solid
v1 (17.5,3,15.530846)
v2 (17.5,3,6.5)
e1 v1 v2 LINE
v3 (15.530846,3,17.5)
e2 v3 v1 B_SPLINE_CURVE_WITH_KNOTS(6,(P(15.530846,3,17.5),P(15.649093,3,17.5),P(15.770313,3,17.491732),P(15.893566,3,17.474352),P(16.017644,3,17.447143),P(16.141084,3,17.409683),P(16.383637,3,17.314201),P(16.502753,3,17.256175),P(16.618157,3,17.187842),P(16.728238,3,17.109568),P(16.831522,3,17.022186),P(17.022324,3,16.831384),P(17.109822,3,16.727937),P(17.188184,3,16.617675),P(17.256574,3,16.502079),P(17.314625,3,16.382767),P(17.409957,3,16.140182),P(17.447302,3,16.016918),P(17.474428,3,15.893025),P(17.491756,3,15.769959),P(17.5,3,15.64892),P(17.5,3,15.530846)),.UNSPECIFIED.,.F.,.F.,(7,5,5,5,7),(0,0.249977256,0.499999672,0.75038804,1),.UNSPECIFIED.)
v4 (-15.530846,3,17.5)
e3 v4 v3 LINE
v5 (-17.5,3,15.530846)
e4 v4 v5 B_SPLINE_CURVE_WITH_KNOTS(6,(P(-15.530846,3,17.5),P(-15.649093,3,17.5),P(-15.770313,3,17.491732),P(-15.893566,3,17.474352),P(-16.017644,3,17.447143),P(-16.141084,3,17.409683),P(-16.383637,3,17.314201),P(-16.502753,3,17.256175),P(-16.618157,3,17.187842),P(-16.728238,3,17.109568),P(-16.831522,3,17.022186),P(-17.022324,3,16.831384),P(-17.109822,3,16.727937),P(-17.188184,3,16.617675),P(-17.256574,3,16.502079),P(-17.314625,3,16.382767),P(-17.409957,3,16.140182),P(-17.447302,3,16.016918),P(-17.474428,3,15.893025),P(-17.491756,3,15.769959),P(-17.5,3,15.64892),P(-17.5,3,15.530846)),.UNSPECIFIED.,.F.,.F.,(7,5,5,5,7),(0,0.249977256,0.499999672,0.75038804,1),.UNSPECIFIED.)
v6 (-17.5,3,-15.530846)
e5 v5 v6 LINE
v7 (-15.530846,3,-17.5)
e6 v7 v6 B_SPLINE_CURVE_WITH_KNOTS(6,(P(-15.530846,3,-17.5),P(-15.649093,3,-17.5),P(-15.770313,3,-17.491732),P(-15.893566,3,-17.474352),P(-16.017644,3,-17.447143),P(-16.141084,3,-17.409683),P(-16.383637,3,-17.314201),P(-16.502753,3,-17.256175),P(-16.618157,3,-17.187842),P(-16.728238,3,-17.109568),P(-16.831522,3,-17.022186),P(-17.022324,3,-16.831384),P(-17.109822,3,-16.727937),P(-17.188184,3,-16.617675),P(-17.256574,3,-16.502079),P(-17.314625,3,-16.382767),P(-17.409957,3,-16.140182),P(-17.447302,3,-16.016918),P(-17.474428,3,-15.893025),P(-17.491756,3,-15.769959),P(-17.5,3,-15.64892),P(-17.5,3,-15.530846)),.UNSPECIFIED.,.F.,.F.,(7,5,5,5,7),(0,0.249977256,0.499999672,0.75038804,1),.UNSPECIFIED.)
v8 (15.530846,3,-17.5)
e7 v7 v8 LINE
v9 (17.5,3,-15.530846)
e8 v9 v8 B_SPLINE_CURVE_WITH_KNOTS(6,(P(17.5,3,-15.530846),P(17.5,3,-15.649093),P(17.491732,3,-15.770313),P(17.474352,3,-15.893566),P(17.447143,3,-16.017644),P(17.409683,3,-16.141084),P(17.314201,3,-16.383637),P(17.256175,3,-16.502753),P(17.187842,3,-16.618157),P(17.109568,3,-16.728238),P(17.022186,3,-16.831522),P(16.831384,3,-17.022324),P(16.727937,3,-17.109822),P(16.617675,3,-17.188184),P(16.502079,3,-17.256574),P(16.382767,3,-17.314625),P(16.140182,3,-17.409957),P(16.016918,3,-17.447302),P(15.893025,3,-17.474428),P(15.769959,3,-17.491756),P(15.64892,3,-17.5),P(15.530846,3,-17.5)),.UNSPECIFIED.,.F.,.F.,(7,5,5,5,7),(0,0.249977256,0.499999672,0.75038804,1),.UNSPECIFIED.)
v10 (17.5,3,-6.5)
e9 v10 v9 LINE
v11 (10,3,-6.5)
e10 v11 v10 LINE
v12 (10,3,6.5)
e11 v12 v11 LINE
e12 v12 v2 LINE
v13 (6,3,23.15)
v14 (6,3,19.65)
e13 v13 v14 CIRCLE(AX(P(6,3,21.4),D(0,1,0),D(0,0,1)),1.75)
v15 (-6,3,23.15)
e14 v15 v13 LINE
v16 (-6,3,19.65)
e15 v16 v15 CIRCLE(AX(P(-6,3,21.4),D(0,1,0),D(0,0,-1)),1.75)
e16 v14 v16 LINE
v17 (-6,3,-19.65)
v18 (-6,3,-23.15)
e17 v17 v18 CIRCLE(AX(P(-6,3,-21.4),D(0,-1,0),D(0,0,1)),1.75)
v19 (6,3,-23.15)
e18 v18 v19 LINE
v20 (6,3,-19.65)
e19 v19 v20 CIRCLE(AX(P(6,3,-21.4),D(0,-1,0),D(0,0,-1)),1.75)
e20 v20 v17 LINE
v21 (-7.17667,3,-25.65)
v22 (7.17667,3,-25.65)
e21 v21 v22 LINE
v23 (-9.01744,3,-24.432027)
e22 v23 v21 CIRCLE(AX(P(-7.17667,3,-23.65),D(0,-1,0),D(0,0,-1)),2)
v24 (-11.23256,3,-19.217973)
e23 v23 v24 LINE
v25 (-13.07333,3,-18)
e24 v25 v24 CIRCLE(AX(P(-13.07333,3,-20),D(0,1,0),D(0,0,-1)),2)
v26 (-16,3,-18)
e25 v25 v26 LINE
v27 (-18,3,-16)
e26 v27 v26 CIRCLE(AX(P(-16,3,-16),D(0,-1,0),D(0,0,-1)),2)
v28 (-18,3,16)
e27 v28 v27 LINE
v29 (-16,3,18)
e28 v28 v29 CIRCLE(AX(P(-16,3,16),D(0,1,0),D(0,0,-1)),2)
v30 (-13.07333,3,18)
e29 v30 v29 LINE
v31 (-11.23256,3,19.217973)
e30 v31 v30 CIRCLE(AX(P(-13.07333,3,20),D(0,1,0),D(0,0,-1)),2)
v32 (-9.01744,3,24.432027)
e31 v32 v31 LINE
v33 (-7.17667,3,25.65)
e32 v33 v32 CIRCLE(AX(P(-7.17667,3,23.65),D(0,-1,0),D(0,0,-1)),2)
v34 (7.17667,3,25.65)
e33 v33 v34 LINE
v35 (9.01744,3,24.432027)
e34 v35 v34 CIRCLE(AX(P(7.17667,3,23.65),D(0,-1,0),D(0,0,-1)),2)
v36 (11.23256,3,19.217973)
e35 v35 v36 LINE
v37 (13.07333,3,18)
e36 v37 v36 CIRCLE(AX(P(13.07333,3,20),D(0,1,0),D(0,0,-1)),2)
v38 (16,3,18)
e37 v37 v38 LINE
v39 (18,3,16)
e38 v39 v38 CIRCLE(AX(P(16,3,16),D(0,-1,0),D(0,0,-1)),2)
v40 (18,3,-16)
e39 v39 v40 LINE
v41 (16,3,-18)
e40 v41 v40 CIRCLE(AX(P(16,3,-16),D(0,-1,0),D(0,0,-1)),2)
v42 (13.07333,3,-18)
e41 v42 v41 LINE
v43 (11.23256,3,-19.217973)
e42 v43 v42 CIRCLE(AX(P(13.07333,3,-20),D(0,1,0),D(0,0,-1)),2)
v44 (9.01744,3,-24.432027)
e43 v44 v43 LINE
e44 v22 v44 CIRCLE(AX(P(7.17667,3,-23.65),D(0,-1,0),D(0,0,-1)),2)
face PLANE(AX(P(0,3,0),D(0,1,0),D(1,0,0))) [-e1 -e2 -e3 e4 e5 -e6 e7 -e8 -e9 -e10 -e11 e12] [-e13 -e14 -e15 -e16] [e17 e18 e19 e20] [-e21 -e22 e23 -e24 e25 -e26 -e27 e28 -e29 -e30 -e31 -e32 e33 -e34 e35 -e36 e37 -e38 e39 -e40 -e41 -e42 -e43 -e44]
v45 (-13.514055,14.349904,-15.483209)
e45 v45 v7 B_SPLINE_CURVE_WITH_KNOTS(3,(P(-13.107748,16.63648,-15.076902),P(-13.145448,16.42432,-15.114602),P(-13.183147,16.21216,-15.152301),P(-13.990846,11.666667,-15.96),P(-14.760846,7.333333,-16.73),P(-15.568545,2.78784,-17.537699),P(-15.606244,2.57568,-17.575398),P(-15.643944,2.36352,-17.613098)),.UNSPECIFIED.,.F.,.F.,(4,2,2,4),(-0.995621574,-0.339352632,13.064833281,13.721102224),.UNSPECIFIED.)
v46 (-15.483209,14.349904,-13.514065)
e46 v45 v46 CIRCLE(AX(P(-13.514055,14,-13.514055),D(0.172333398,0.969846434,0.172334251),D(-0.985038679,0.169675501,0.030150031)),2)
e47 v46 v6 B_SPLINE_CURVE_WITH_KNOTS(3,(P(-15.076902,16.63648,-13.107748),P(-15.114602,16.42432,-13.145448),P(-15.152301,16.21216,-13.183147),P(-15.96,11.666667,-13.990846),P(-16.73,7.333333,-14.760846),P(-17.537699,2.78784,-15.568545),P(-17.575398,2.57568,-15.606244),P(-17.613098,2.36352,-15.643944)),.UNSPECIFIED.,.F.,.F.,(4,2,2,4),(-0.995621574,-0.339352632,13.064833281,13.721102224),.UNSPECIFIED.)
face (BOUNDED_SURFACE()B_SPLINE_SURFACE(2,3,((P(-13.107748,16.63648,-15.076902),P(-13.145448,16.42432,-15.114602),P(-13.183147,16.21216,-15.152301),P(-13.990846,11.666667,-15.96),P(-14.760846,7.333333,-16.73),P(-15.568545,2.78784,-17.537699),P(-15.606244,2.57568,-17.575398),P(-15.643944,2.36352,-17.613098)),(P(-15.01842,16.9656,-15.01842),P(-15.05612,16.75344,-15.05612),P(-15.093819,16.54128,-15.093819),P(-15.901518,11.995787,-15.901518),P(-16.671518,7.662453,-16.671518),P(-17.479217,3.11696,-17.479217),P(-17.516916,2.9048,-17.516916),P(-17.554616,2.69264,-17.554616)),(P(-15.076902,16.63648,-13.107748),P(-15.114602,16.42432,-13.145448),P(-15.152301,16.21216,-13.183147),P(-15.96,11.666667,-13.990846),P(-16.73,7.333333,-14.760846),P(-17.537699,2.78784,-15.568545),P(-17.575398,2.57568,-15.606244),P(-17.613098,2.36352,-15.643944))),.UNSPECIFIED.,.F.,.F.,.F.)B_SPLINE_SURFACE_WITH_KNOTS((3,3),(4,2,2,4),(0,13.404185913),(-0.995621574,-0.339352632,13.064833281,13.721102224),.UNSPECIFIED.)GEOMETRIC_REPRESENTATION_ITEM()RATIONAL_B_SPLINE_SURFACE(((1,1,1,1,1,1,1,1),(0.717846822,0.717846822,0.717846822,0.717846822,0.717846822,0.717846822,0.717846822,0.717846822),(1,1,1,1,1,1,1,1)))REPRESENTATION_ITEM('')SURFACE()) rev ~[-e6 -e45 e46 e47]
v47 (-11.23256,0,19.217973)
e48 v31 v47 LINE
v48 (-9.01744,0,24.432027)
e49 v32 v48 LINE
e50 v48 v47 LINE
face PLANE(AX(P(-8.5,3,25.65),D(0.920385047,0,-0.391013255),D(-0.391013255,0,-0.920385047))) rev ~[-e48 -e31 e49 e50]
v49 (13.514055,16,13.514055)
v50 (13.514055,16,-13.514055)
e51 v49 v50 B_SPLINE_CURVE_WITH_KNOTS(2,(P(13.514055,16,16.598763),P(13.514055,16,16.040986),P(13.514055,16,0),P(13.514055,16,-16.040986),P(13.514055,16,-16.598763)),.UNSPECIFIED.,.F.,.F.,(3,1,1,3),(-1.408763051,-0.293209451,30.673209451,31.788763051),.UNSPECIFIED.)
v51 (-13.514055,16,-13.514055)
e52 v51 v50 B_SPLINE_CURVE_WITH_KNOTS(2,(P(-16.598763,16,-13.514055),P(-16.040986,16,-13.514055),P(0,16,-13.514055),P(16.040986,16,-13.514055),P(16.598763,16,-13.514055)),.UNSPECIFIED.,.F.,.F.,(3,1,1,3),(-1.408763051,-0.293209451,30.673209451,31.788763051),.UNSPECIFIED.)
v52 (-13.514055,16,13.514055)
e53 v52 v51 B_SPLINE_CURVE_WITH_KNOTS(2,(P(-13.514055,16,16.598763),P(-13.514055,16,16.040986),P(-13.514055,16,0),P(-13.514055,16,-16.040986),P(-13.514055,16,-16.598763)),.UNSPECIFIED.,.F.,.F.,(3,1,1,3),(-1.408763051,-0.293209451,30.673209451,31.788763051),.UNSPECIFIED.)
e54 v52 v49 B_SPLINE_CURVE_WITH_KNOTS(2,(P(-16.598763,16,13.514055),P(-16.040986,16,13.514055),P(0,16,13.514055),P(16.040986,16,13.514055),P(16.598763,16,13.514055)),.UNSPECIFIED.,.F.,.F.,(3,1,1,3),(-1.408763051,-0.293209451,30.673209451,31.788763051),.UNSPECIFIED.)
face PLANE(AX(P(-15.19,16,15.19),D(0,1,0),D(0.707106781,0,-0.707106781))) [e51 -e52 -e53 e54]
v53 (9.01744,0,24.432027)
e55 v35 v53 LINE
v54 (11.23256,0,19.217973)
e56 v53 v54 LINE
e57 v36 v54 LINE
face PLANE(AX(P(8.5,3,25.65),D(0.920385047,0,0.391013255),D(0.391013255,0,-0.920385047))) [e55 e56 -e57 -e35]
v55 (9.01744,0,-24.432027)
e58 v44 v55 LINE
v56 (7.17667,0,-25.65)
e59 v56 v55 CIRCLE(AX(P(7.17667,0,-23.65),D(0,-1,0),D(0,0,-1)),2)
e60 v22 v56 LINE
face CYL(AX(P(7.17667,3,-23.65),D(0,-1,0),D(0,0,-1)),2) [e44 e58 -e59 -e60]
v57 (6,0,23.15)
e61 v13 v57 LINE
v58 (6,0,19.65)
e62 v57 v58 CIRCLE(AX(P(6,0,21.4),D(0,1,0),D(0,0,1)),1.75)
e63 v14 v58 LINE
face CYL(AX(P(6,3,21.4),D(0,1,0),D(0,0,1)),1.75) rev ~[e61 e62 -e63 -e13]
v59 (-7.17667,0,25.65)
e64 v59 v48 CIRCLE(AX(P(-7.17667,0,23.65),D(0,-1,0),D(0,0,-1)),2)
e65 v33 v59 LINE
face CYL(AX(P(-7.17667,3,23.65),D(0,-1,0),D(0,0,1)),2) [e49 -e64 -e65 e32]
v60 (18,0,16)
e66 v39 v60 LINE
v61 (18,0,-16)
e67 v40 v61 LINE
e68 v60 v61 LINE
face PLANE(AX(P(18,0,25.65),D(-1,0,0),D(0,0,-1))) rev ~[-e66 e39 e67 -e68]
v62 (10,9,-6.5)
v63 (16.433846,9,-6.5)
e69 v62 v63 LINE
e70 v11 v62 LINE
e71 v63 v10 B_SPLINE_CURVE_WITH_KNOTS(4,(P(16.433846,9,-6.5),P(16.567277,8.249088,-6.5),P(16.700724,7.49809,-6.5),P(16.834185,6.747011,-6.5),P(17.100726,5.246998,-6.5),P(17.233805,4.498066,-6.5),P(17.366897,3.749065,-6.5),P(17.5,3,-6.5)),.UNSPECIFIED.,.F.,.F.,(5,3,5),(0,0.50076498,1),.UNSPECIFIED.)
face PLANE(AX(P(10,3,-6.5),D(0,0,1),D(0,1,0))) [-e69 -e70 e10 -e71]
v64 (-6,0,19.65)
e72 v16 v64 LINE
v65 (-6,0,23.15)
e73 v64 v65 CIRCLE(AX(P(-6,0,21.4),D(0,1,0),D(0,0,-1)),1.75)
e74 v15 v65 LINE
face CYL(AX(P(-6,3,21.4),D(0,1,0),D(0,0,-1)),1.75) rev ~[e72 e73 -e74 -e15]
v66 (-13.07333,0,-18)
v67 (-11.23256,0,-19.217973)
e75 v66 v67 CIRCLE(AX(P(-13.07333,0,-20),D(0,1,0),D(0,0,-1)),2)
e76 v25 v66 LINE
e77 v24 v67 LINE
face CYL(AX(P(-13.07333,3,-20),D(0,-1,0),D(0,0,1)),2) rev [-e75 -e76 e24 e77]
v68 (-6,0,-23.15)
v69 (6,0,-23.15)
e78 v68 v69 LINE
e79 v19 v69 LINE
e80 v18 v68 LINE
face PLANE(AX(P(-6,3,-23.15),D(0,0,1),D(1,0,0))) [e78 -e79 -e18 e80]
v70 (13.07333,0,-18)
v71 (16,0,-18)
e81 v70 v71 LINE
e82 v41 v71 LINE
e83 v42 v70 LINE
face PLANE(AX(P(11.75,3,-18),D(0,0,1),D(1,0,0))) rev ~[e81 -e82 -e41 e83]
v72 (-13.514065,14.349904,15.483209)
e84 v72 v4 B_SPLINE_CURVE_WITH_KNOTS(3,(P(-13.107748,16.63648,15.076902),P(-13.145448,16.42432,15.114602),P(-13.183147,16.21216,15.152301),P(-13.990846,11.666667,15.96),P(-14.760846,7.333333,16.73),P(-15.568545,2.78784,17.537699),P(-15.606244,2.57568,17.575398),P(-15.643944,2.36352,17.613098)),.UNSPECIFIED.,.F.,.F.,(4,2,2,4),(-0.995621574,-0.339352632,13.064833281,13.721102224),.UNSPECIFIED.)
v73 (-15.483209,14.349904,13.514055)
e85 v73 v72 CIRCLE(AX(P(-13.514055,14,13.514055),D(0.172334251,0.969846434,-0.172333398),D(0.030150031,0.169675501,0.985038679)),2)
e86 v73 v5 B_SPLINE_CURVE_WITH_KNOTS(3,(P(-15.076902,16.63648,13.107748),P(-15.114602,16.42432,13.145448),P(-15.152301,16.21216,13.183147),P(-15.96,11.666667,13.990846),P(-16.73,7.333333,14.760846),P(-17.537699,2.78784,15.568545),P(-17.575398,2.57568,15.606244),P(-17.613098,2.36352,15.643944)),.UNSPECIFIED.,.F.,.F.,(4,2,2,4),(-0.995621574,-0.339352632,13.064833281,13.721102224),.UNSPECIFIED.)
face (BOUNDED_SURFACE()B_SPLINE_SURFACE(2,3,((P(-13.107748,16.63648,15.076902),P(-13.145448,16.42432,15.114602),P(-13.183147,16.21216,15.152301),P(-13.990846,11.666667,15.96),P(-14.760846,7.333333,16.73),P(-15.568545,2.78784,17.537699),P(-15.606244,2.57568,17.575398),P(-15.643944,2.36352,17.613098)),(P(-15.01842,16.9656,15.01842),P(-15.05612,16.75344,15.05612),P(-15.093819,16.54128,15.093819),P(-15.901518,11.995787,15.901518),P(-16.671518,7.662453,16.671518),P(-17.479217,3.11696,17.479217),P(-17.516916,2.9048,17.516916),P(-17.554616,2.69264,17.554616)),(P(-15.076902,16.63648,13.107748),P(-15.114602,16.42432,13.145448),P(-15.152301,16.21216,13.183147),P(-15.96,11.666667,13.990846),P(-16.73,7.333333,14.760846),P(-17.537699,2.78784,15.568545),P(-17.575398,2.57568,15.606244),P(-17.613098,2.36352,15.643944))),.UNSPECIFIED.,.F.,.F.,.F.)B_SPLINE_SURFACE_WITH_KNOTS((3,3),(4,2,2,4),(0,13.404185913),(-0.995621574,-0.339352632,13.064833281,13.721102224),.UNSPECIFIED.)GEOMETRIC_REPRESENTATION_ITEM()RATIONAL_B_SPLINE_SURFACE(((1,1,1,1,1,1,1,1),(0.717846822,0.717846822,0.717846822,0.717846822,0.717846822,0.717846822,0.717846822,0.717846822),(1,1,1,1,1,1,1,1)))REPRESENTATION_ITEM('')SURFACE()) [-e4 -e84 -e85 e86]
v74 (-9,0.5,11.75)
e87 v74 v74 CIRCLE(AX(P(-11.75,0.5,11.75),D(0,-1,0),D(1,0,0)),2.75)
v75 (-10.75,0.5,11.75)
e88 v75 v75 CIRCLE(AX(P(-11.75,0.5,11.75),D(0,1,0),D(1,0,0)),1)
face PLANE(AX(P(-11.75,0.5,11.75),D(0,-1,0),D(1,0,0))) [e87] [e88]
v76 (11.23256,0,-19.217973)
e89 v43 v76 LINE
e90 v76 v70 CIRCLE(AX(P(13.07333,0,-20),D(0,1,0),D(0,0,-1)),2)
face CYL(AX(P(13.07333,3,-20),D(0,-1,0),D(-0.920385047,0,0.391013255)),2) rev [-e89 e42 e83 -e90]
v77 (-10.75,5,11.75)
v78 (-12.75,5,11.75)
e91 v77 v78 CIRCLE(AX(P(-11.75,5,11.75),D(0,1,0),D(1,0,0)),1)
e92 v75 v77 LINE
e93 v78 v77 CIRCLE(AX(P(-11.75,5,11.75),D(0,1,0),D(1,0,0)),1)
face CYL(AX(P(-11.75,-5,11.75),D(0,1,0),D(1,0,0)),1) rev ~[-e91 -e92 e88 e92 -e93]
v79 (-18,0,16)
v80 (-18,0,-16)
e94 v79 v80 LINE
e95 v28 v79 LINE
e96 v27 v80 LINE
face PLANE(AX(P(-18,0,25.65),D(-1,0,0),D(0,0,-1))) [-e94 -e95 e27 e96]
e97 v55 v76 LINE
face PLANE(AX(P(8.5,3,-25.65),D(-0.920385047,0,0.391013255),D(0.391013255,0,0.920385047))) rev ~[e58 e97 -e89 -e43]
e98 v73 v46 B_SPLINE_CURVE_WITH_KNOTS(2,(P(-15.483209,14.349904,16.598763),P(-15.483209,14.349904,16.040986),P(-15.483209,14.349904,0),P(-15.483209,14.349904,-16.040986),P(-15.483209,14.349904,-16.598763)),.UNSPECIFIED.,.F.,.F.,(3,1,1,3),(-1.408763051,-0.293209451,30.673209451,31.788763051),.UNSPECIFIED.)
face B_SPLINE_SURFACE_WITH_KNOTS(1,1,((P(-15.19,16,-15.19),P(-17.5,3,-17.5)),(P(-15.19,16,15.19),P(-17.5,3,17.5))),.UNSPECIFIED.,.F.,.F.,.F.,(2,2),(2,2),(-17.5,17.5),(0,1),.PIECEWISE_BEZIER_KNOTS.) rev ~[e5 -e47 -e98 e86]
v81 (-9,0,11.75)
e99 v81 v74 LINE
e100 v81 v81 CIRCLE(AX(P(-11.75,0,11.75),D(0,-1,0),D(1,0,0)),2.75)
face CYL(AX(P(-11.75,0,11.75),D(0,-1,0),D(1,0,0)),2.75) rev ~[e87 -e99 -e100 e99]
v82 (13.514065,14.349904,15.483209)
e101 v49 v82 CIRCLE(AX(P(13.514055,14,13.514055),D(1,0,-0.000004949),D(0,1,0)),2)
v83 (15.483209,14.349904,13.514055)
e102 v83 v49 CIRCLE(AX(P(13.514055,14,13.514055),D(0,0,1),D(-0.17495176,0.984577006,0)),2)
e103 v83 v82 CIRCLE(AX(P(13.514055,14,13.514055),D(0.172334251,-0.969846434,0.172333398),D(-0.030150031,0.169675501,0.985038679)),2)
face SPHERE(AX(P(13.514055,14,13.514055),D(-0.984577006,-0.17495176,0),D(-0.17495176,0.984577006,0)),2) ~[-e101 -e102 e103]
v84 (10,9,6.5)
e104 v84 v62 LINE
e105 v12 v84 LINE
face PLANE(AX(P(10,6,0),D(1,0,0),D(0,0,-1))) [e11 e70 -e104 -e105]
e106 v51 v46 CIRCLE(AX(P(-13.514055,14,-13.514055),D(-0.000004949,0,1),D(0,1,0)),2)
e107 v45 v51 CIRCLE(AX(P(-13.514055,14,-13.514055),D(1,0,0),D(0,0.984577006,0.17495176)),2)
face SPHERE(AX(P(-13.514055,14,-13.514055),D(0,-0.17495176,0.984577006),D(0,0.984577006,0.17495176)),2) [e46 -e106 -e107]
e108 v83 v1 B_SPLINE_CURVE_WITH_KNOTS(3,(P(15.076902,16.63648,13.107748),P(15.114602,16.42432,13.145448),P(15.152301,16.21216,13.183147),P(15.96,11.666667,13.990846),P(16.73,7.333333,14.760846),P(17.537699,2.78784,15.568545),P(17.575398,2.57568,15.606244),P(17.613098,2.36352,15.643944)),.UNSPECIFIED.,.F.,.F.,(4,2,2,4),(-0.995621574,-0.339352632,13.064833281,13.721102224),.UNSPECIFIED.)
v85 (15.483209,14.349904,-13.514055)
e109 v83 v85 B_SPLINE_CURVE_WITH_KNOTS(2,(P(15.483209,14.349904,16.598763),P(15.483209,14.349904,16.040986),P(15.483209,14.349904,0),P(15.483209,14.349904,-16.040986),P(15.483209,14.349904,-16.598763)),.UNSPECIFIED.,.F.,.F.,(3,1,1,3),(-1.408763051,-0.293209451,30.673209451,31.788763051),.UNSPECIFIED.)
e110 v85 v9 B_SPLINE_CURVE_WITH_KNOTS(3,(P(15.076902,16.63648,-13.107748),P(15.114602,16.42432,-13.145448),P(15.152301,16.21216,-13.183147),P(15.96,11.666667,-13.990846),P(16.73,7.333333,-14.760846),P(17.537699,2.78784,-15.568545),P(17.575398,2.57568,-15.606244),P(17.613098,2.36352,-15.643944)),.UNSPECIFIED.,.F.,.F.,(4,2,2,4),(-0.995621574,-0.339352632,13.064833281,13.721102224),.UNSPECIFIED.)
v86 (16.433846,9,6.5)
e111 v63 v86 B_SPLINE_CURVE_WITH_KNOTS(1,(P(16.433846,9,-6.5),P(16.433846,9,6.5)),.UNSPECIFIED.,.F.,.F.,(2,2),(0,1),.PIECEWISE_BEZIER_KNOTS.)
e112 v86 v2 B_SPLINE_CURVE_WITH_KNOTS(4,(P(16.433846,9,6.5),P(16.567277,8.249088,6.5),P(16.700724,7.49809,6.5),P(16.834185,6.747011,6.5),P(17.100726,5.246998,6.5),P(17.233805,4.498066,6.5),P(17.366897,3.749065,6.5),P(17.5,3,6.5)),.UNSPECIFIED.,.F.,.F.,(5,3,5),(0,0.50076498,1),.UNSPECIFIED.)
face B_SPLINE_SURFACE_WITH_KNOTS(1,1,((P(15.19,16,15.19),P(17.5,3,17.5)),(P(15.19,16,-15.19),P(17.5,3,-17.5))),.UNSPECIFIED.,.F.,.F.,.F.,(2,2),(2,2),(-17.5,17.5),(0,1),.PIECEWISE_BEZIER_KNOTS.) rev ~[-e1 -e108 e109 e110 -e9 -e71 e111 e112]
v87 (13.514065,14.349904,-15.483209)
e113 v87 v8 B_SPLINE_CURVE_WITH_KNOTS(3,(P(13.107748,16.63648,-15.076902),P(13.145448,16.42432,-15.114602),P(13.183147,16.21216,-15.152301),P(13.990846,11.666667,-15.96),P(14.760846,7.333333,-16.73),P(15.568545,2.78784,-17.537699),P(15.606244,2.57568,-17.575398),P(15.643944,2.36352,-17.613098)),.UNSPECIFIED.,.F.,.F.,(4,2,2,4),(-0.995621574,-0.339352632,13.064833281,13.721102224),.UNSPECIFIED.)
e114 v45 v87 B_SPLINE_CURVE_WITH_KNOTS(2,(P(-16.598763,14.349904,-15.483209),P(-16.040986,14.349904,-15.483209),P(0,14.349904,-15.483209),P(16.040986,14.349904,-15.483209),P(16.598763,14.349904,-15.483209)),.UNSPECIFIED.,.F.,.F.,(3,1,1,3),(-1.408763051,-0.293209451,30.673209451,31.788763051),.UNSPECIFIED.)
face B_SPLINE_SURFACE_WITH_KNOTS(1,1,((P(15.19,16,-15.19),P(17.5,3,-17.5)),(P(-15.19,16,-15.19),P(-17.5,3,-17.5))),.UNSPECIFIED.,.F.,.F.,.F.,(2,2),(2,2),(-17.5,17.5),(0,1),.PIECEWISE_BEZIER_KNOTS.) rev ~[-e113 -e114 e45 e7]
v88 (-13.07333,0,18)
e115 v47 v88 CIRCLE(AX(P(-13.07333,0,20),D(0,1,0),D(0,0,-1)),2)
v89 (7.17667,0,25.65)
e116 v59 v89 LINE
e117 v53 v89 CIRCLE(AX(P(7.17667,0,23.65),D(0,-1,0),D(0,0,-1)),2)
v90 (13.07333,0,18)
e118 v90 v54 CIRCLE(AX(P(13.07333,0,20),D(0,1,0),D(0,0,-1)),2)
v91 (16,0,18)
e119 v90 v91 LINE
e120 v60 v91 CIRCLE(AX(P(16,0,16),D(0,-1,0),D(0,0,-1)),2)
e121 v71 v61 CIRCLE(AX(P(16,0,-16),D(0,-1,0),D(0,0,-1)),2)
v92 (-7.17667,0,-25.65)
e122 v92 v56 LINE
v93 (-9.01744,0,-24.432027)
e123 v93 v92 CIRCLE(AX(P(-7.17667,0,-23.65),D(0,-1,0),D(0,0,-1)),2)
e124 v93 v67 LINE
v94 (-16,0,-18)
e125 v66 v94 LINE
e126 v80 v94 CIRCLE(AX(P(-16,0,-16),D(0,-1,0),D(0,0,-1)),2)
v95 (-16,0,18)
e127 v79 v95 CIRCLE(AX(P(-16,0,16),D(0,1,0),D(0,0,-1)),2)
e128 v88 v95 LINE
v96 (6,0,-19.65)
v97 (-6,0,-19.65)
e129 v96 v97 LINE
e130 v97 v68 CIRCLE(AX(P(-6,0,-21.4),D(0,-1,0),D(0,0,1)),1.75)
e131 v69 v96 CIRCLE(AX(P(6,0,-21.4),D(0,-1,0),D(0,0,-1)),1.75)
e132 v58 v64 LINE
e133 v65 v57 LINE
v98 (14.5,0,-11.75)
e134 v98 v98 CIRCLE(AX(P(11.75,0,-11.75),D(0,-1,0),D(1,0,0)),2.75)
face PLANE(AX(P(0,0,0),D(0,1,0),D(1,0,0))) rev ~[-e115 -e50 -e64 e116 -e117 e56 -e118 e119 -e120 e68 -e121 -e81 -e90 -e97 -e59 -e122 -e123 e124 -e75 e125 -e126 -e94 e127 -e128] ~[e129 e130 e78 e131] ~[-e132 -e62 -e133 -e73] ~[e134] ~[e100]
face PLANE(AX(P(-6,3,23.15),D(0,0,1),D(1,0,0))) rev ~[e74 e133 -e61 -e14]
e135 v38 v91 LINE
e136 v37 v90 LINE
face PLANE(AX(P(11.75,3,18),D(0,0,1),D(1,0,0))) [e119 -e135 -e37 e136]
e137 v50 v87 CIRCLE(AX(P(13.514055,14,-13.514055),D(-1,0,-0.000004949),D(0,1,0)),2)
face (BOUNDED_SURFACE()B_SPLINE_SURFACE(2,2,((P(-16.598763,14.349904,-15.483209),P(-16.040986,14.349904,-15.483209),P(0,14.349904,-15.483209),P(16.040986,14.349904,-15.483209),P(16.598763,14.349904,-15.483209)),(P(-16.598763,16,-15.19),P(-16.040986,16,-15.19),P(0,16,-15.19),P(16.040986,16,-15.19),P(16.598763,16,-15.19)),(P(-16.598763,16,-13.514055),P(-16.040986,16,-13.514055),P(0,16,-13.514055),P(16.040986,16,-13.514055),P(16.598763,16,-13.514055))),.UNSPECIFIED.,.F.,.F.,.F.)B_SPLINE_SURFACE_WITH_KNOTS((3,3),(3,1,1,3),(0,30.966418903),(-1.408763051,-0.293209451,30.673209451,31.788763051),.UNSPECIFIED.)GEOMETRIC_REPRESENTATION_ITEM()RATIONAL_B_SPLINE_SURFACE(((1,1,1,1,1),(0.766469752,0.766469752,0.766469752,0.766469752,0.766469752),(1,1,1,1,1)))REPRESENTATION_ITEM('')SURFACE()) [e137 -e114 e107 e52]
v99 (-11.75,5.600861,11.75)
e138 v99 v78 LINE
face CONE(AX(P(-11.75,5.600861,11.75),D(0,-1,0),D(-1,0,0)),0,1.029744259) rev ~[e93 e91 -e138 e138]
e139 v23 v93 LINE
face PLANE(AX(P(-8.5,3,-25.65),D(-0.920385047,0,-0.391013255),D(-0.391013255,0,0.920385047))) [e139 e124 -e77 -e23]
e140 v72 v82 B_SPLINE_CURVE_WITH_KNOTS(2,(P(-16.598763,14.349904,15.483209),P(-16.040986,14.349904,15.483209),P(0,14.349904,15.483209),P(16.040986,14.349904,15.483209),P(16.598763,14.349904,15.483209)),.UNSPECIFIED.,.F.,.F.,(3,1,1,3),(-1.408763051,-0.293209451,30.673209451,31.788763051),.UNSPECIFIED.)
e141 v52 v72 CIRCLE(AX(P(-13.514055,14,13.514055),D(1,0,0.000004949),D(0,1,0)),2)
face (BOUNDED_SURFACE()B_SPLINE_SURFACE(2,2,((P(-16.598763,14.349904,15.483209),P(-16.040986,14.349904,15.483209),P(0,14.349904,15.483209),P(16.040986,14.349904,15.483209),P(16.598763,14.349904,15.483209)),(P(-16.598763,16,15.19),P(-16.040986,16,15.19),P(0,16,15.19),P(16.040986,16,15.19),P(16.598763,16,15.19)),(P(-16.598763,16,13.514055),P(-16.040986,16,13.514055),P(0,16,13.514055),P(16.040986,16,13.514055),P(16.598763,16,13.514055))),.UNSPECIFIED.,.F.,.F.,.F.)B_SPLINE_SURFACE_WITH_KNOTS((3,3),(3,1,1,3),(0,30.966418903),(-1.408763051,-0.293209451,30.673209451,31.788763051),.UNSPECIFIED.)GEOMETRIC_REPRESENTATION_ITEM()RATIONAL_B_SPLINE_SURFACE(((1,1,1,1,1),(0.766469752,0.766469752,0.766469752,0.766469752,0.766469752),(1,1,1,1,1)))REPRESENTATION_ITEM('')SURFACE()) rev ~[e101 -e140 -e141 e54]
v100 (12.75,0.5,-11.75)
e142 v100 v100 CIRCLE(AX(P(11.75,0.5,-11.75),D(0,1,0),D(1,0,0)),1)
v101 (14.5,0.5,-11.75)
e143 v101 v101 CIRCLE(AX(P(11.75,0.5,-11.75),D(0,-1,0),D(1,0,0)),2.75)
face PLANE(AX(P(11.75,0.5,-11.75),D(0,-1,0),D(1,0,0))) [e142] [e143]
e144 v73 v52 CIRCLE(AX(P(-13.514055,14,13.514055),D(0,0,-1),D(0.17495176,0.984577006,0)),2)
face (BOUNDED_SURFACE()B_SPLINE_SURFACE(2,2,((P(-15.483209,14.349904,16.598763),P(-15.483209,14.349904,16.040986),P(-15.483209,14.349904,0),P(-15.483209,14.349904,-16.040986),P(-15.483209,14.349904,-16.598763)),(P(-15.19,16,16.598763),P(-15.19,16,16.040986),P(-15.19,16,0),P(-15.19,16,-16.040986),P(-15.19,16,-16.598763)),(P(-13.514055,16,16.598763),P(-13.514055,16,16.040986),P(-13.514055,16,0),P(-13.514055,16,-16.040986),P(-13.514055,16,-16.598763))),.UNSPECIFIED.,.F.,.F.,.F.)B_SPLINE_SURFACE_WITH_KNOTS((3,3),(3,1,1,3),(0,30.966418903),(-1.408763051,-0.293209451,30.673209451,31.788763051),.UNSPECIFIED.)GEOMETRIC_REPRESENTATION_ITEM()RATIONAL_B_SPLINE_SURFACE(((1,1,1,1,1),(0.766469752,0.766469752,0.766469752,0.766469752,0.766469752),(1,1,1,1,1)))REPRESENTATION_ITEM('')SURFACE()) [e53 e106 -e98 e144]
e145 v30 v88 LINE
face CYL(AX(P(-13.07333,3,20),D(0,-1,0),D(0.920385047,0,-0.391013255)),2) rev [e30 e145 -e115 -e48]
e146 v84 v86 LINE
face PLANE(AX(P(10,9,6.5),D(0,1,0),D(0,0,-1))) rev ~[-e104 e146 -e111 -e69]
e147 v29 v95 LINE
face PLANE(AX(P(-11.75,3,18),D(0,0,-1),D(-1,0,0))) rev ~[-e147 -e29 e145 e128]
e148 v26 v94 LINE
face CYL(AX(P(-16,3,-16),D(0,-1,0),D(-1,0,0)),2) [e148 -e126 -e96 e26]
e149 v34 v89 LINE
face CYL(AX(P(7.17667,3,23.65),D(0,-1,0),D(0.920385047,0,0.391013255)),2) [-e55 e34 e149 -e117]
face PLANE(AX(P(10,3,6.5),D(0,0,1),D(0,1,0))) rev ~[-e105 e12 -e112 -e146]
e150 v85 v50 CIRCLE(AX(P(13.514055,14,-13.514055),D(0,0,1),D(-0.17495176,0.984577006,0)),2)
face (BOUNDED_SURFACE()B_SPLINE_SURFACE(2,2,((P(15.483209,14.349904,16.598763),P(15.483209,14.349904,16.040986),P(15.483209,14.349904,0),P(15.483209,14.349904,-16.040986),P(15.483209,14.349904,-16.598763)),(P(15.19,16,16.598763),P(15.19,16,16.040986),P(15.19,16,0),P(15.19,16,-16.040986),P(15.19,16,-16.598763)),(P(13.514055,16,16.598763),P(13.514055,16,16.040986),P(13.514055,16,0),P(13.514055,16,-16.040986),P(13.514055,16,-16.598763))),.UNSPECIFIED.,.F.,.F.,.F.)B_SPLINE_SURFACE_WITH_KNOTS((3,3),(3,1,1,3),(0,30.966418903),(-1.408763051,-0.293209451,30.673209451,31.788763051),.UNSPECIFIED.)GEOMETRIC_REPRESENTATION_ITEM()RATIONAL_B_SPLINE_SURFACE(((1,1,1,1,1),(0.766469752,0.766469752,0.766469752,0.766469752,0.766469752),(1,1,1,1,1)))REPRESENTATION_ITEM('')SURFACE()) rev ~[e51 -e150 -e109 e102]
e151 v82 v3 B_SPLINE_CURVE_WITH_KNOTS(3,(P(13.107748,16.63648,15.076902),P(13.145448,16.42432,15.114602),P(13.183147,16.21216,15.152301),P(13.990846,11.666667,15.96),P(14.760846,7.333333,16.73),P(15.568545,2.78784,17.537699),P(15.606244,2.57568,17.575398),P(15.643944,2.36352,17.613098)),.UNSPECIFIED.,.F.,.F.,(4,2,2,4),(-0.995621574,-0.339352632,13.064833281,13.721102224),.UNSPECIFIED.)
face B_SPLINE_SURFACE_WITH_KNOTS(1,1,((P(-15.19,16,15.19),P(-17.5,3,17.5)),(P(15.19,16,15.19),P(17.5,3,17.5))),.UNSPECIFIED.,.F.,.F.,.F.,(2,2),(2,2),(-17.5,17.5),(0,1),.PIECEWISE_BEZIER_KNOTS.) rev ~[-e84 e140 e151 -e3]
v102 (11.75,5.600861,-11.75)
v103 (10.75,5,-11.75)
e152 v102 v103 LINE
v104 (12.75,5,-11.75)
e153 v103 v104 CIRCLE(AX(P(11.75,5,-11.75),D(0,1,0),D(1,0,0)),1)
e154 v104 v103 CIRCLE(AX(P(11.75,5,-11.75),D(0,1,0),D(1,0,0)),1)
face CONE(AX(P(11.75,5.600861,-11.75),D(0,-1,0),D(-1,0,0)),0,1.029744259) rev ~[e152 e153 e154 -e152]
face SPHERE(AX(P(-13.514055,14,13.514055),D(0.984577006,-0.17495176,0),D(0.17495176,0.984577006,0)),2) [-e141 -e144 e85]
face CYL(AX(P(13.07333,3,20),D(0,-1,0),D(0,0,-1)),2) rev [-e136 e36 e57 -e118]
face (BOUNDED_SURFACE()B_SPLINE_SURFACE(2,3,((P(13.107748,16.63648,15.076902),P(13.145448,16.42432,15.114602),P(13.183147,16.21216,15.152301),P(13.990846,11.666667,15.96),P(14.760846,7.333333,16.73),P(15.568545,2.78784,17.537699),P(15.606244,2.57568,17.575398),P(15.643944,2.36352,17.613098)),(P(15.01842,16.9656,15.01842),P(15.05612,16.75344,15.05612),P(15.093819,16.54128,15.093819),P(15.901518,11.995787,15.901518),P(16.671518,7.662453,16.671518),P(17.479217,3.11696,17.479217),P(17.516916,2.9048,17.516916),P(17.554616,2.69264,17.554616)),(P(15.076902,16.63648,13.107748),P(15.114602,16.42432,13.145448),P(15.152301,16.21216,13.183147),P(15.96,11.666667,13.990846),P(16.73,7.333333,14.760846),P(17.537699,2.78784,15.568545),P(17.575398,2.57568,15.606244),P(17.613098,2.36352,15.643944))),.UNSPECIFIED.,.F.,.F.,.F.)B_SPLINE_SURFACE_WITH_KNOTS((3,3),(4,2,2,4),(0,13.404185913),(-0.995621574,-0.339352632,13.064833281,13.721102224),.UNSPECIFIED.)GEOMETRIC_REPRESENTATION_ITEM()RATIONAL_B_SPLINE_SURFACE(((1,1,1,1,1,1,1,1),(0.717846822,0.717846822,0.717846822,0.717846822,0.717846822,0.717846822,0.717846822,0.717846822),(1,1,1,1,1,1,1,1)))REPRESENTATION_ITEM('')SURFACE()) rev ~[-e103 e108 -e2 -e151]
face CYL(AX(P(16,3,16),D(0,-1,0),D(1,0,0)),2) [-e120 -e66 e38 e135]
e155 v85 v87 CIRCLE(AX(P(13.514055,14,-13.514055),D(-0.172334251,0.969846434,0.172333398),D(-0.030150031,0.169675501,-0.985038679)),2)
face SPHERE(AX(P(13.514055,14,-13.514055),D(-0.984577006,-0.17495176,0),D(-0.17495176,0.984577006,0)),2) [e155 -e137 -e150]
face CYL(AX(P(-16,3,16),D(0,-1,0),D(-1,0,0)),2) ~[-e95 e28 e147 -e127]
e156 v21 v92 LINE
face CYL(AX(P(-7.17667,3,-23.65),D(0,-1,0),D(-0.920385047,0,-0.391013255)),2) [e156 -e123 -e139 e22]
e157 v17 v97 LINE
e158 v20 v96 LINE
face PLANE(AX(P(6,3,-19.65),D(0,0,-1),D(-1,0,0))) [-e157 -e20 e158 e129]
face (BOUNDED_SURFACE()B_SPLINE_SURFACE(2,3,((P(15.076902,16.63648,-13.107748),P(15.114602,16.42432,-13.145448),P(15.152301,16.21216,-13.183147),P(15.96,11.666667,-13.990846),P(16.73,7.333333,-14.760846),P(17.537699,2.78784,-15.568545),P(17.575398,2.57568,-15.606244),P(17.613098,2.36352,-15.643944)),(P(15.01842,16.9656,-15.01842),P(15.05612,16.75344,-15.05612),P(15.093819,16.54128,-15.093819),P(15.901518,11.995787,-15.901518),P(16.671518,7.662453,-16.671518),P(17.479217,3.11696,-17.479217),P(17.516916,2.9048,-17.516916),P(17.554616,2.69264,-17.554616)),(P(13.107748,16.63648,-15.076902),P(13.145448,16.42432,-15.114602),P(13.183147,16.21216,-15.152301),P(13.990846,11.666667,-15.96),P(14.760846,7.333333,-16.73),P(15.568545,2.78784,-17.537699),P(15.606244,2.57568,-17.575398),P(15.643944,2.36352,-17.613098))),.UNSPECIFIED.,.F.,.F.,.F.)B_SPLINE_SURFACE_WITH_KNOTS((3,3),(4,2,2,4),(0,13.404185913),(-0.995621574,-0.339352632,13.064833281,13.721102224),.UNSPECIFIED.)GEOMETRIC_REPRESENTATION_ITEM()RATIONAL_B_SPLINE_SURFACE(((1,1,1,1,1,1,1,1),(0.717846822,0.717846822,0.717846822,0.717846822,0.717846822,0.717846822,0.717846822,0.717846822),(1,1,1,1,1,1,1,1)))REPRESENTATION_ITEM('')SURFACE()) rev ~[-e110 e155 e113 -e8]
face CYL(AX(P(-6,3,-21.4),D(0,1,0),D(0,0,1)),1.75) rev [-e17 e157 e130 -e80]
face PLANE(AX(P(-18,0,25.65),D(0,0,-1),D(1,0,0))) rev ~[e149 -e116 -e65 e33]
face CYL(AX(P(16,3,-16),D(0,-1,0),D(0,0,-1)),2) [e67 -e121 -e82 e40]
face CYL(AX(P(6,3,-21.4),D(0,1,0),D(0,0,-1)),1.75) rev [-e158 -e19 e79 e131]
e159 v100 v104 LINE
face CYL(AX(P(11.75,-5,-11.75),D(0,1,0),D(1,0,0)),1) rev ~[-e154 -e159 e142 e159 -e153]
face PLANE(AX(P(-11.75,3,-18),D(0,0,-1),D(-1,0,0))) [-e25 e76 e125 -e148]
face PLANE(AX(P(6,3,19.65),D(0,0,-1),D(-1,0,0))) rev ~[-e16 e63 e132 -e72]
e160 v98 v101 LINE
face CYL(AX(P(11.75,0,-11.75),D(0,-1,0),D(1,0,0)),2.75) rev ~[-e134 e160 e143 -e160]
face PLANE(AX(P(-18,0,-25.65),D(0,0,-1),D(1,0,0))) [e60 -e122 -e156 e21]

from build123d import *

# Parameters (mm, degrees)
SKETCH_1_W          = 36
SKETCH_1_H          = 51.3
EXTRUDE_1_DEPTH     = 3
CUT_EXTRUDE_1_DEPTH = 3
SKETCH_5_W          = 30.38
SKETCH_5_H          = 30.38
SKETCH_4_W          = 35
SKETCH_4_H          = 35
FILLET_1_R          = 2
CUT_EXTRUDE_3_DEPTH = 13
FILLET_2_R          = 2
SKETCH_8_R          = 2.75
CUT_EXTRUDE_4_DEPTH = 0.5
MM_2_D              = 2
MM_2_DEPTH          = 5
MM_2_TIP            = 0.600860619
CUT_EXTRUDE_START   = 10
SKETCH_16_W         = 13
SKETCH_16_H         = 6
CUT_EXTRUDE_5_DEPTH = 9.0000001


with BuildPart() as part:
    # 草图1 → 凸台-拉伸1 (new body)
    with BuildSketch(Plane(origin=(0, 0, 0), x_dir=(1, 0, 0), z_dir=(0, 1, 0))):
        Rectangle(SKETCH_1_W, SKETCH_1_H)
    extrude(amount=EXTRUDE_1_DEPTH)

    # 草图2 → 切除-拉伸1 (cut)
    with BuildSketch(Plane(origin=(0, 3, 0), x_dir=(1, 0, 0), z_dir=(0, 1, 0))):
        with BuildLine():
            Line((-6, 23.15), (6, 23.15))
            ThreePointArc((6, 23.15), (7.75, 21.4), (6, 19.65))
            Line((6, 19.65), (-6, 19.65))
            ThreePointArc((-6, 19.65), (-7.75, 21.4), (-6, 23.15))
        make_face()
        with BuildLine():
            Line((-6, -23.15), (6, -23.15))
            ThreePointArc((6, -23.15), (7.75, -21.4), (6, -19.65))
            Line((6, -19.65), (-6, -19.65))
            ThreePointArc((-6, -19.65), (-7.75, -21.4), (-6, -23.15))
        make_face()
    extrude(amount=-CUT_EXTRUDE_1_DEPTH, mode=Mode.SUBTRACT)

    # 草图5 → 放样1 section 0
    with BuildSketch(Plane(origin=(0, 16, 0), x_dir=(1, 0, 0), z_dir=(0, 1, 0))):
        Rectangle(SKETCH_5_W, SKETCH_5_H)
    # 草图4 → 放样1 section 1
    with BuildSketch(Plane(origin=(0, 3, 0), x_dir=(1, 0, 0), z_dir=(0, 1, 0))):
        Rectangle(SKETCH_4_W, SKETCH_4_H)
    loft()

    # 圆角1
    fillet_1_edges = [part.edges().sort_by_distance(p)[0] for p in [
        (0, 16, 15.19),
        (-15.19, 16, 0),
        (0, 16, -15.19),
        (15.19, 16, 0),
        (16.345, 9.5, -16.345),
        (16.345, 9.5, 16.345),
        (-16.345, 9.5, 16.345),
        (-16.345, 9.5, -16.345),
    ]]
    fillet(fillet_1_edges, radius=FILLET_1_R)

    # 草图6 → 切除-拉伸3 (cut)
    with BuildSketch(Plane(origin=(0, 3, 0), x_dir=(1, 0, 0), z_dir=(0, 1, 0))):
        Polygon((-8.5, 25.65), (-11.75, 18), (-18, 18), (-18, 25.65), align=None)
        Polygon((18, 25.65), (8.5, 25.65), (11.75, 18), (18, 18), align=None)
        Polygon((8.5, -25.65), (11.75, -18), (18, -18), (18, -25.65), align=None)
        Polygon((-18, -25.65), (-8.5, -25.65), (-11.75, -18), (-18, -18), align=None)
    extrude(amount=-CUT_EXTRUDE_3_DEPTH, mode=Mode.SUBTRACT)

    # 圆角2
    fillet_2_edges = [part.edges().sort_by_distance(p)[0] for p in [
        (-8.5, 1.5, -25.65),
        (-11.75, 1.5, -18),
        (-18, 1.5, -18),
        (18, 1.5, -18),
        (11.75, 1.5, -18),
        (8.5, 1.5, -25.65),
        (8.5, 1.5, 25.65),
        (11.75, 1.5, 18),
        (18, 1.5, 18),
        (-18, 1.5, 18),
        (-11.75, 1.5, 18),
        (-8.5, 1.5, 25.65),
    ]]
    fillet(fillet_2_edges, radius=FILLET_2_R)

    # 草图8 → 切除-拉伸4 (cut)
    with BuildSketch(Plane.XZ):
        with Locations((-11.75, 11.75)):
            Circle(SKETCH_8_R)
        with Locations((11.75, -11.75)):
            Circle(SKETCH_8_R)
    extrude(amount=-CUT_EXTRUDE_4_DEPTH, mode=Mode.SUBTRACT)

    # 大小mm 暗销孔2
    with Locations(Plane(origin=(0, 0, 0), x_dir=(-1, 0, 0), z_dir=(0, -1, 0))):
        with Locations((11.75, -11.75), (-11.75, 11.75)):
            Hole(MM_2_D / 2, depth=MM_2_DEPTH)
            with Locations((0, 0, -(MM_2_DEPTH + MM_2_TIP / 2))):  # 118° drill point
                Cone(0, MM_2_D / 2, MM_2_TIP, mode=Mode.SUBTRACT)

    # 草图16 → 切除-拉伸5 (cut, through all)
    with BuildSketch(Plane(origin=(0, 0, 0), x_dir=(0, 0, -1), z_dir=(1, 0, 0)).offset(CUT_EXTRUDE_START)):
        with Locations((0, 6)):
            Rectangle(SKETCH_16_W, SKETCH_16_H)
    extrude(amount=CUT_EXTRUDE_5_DEPTH, mode=Mode.SUBTRACT)


solid = part.part
